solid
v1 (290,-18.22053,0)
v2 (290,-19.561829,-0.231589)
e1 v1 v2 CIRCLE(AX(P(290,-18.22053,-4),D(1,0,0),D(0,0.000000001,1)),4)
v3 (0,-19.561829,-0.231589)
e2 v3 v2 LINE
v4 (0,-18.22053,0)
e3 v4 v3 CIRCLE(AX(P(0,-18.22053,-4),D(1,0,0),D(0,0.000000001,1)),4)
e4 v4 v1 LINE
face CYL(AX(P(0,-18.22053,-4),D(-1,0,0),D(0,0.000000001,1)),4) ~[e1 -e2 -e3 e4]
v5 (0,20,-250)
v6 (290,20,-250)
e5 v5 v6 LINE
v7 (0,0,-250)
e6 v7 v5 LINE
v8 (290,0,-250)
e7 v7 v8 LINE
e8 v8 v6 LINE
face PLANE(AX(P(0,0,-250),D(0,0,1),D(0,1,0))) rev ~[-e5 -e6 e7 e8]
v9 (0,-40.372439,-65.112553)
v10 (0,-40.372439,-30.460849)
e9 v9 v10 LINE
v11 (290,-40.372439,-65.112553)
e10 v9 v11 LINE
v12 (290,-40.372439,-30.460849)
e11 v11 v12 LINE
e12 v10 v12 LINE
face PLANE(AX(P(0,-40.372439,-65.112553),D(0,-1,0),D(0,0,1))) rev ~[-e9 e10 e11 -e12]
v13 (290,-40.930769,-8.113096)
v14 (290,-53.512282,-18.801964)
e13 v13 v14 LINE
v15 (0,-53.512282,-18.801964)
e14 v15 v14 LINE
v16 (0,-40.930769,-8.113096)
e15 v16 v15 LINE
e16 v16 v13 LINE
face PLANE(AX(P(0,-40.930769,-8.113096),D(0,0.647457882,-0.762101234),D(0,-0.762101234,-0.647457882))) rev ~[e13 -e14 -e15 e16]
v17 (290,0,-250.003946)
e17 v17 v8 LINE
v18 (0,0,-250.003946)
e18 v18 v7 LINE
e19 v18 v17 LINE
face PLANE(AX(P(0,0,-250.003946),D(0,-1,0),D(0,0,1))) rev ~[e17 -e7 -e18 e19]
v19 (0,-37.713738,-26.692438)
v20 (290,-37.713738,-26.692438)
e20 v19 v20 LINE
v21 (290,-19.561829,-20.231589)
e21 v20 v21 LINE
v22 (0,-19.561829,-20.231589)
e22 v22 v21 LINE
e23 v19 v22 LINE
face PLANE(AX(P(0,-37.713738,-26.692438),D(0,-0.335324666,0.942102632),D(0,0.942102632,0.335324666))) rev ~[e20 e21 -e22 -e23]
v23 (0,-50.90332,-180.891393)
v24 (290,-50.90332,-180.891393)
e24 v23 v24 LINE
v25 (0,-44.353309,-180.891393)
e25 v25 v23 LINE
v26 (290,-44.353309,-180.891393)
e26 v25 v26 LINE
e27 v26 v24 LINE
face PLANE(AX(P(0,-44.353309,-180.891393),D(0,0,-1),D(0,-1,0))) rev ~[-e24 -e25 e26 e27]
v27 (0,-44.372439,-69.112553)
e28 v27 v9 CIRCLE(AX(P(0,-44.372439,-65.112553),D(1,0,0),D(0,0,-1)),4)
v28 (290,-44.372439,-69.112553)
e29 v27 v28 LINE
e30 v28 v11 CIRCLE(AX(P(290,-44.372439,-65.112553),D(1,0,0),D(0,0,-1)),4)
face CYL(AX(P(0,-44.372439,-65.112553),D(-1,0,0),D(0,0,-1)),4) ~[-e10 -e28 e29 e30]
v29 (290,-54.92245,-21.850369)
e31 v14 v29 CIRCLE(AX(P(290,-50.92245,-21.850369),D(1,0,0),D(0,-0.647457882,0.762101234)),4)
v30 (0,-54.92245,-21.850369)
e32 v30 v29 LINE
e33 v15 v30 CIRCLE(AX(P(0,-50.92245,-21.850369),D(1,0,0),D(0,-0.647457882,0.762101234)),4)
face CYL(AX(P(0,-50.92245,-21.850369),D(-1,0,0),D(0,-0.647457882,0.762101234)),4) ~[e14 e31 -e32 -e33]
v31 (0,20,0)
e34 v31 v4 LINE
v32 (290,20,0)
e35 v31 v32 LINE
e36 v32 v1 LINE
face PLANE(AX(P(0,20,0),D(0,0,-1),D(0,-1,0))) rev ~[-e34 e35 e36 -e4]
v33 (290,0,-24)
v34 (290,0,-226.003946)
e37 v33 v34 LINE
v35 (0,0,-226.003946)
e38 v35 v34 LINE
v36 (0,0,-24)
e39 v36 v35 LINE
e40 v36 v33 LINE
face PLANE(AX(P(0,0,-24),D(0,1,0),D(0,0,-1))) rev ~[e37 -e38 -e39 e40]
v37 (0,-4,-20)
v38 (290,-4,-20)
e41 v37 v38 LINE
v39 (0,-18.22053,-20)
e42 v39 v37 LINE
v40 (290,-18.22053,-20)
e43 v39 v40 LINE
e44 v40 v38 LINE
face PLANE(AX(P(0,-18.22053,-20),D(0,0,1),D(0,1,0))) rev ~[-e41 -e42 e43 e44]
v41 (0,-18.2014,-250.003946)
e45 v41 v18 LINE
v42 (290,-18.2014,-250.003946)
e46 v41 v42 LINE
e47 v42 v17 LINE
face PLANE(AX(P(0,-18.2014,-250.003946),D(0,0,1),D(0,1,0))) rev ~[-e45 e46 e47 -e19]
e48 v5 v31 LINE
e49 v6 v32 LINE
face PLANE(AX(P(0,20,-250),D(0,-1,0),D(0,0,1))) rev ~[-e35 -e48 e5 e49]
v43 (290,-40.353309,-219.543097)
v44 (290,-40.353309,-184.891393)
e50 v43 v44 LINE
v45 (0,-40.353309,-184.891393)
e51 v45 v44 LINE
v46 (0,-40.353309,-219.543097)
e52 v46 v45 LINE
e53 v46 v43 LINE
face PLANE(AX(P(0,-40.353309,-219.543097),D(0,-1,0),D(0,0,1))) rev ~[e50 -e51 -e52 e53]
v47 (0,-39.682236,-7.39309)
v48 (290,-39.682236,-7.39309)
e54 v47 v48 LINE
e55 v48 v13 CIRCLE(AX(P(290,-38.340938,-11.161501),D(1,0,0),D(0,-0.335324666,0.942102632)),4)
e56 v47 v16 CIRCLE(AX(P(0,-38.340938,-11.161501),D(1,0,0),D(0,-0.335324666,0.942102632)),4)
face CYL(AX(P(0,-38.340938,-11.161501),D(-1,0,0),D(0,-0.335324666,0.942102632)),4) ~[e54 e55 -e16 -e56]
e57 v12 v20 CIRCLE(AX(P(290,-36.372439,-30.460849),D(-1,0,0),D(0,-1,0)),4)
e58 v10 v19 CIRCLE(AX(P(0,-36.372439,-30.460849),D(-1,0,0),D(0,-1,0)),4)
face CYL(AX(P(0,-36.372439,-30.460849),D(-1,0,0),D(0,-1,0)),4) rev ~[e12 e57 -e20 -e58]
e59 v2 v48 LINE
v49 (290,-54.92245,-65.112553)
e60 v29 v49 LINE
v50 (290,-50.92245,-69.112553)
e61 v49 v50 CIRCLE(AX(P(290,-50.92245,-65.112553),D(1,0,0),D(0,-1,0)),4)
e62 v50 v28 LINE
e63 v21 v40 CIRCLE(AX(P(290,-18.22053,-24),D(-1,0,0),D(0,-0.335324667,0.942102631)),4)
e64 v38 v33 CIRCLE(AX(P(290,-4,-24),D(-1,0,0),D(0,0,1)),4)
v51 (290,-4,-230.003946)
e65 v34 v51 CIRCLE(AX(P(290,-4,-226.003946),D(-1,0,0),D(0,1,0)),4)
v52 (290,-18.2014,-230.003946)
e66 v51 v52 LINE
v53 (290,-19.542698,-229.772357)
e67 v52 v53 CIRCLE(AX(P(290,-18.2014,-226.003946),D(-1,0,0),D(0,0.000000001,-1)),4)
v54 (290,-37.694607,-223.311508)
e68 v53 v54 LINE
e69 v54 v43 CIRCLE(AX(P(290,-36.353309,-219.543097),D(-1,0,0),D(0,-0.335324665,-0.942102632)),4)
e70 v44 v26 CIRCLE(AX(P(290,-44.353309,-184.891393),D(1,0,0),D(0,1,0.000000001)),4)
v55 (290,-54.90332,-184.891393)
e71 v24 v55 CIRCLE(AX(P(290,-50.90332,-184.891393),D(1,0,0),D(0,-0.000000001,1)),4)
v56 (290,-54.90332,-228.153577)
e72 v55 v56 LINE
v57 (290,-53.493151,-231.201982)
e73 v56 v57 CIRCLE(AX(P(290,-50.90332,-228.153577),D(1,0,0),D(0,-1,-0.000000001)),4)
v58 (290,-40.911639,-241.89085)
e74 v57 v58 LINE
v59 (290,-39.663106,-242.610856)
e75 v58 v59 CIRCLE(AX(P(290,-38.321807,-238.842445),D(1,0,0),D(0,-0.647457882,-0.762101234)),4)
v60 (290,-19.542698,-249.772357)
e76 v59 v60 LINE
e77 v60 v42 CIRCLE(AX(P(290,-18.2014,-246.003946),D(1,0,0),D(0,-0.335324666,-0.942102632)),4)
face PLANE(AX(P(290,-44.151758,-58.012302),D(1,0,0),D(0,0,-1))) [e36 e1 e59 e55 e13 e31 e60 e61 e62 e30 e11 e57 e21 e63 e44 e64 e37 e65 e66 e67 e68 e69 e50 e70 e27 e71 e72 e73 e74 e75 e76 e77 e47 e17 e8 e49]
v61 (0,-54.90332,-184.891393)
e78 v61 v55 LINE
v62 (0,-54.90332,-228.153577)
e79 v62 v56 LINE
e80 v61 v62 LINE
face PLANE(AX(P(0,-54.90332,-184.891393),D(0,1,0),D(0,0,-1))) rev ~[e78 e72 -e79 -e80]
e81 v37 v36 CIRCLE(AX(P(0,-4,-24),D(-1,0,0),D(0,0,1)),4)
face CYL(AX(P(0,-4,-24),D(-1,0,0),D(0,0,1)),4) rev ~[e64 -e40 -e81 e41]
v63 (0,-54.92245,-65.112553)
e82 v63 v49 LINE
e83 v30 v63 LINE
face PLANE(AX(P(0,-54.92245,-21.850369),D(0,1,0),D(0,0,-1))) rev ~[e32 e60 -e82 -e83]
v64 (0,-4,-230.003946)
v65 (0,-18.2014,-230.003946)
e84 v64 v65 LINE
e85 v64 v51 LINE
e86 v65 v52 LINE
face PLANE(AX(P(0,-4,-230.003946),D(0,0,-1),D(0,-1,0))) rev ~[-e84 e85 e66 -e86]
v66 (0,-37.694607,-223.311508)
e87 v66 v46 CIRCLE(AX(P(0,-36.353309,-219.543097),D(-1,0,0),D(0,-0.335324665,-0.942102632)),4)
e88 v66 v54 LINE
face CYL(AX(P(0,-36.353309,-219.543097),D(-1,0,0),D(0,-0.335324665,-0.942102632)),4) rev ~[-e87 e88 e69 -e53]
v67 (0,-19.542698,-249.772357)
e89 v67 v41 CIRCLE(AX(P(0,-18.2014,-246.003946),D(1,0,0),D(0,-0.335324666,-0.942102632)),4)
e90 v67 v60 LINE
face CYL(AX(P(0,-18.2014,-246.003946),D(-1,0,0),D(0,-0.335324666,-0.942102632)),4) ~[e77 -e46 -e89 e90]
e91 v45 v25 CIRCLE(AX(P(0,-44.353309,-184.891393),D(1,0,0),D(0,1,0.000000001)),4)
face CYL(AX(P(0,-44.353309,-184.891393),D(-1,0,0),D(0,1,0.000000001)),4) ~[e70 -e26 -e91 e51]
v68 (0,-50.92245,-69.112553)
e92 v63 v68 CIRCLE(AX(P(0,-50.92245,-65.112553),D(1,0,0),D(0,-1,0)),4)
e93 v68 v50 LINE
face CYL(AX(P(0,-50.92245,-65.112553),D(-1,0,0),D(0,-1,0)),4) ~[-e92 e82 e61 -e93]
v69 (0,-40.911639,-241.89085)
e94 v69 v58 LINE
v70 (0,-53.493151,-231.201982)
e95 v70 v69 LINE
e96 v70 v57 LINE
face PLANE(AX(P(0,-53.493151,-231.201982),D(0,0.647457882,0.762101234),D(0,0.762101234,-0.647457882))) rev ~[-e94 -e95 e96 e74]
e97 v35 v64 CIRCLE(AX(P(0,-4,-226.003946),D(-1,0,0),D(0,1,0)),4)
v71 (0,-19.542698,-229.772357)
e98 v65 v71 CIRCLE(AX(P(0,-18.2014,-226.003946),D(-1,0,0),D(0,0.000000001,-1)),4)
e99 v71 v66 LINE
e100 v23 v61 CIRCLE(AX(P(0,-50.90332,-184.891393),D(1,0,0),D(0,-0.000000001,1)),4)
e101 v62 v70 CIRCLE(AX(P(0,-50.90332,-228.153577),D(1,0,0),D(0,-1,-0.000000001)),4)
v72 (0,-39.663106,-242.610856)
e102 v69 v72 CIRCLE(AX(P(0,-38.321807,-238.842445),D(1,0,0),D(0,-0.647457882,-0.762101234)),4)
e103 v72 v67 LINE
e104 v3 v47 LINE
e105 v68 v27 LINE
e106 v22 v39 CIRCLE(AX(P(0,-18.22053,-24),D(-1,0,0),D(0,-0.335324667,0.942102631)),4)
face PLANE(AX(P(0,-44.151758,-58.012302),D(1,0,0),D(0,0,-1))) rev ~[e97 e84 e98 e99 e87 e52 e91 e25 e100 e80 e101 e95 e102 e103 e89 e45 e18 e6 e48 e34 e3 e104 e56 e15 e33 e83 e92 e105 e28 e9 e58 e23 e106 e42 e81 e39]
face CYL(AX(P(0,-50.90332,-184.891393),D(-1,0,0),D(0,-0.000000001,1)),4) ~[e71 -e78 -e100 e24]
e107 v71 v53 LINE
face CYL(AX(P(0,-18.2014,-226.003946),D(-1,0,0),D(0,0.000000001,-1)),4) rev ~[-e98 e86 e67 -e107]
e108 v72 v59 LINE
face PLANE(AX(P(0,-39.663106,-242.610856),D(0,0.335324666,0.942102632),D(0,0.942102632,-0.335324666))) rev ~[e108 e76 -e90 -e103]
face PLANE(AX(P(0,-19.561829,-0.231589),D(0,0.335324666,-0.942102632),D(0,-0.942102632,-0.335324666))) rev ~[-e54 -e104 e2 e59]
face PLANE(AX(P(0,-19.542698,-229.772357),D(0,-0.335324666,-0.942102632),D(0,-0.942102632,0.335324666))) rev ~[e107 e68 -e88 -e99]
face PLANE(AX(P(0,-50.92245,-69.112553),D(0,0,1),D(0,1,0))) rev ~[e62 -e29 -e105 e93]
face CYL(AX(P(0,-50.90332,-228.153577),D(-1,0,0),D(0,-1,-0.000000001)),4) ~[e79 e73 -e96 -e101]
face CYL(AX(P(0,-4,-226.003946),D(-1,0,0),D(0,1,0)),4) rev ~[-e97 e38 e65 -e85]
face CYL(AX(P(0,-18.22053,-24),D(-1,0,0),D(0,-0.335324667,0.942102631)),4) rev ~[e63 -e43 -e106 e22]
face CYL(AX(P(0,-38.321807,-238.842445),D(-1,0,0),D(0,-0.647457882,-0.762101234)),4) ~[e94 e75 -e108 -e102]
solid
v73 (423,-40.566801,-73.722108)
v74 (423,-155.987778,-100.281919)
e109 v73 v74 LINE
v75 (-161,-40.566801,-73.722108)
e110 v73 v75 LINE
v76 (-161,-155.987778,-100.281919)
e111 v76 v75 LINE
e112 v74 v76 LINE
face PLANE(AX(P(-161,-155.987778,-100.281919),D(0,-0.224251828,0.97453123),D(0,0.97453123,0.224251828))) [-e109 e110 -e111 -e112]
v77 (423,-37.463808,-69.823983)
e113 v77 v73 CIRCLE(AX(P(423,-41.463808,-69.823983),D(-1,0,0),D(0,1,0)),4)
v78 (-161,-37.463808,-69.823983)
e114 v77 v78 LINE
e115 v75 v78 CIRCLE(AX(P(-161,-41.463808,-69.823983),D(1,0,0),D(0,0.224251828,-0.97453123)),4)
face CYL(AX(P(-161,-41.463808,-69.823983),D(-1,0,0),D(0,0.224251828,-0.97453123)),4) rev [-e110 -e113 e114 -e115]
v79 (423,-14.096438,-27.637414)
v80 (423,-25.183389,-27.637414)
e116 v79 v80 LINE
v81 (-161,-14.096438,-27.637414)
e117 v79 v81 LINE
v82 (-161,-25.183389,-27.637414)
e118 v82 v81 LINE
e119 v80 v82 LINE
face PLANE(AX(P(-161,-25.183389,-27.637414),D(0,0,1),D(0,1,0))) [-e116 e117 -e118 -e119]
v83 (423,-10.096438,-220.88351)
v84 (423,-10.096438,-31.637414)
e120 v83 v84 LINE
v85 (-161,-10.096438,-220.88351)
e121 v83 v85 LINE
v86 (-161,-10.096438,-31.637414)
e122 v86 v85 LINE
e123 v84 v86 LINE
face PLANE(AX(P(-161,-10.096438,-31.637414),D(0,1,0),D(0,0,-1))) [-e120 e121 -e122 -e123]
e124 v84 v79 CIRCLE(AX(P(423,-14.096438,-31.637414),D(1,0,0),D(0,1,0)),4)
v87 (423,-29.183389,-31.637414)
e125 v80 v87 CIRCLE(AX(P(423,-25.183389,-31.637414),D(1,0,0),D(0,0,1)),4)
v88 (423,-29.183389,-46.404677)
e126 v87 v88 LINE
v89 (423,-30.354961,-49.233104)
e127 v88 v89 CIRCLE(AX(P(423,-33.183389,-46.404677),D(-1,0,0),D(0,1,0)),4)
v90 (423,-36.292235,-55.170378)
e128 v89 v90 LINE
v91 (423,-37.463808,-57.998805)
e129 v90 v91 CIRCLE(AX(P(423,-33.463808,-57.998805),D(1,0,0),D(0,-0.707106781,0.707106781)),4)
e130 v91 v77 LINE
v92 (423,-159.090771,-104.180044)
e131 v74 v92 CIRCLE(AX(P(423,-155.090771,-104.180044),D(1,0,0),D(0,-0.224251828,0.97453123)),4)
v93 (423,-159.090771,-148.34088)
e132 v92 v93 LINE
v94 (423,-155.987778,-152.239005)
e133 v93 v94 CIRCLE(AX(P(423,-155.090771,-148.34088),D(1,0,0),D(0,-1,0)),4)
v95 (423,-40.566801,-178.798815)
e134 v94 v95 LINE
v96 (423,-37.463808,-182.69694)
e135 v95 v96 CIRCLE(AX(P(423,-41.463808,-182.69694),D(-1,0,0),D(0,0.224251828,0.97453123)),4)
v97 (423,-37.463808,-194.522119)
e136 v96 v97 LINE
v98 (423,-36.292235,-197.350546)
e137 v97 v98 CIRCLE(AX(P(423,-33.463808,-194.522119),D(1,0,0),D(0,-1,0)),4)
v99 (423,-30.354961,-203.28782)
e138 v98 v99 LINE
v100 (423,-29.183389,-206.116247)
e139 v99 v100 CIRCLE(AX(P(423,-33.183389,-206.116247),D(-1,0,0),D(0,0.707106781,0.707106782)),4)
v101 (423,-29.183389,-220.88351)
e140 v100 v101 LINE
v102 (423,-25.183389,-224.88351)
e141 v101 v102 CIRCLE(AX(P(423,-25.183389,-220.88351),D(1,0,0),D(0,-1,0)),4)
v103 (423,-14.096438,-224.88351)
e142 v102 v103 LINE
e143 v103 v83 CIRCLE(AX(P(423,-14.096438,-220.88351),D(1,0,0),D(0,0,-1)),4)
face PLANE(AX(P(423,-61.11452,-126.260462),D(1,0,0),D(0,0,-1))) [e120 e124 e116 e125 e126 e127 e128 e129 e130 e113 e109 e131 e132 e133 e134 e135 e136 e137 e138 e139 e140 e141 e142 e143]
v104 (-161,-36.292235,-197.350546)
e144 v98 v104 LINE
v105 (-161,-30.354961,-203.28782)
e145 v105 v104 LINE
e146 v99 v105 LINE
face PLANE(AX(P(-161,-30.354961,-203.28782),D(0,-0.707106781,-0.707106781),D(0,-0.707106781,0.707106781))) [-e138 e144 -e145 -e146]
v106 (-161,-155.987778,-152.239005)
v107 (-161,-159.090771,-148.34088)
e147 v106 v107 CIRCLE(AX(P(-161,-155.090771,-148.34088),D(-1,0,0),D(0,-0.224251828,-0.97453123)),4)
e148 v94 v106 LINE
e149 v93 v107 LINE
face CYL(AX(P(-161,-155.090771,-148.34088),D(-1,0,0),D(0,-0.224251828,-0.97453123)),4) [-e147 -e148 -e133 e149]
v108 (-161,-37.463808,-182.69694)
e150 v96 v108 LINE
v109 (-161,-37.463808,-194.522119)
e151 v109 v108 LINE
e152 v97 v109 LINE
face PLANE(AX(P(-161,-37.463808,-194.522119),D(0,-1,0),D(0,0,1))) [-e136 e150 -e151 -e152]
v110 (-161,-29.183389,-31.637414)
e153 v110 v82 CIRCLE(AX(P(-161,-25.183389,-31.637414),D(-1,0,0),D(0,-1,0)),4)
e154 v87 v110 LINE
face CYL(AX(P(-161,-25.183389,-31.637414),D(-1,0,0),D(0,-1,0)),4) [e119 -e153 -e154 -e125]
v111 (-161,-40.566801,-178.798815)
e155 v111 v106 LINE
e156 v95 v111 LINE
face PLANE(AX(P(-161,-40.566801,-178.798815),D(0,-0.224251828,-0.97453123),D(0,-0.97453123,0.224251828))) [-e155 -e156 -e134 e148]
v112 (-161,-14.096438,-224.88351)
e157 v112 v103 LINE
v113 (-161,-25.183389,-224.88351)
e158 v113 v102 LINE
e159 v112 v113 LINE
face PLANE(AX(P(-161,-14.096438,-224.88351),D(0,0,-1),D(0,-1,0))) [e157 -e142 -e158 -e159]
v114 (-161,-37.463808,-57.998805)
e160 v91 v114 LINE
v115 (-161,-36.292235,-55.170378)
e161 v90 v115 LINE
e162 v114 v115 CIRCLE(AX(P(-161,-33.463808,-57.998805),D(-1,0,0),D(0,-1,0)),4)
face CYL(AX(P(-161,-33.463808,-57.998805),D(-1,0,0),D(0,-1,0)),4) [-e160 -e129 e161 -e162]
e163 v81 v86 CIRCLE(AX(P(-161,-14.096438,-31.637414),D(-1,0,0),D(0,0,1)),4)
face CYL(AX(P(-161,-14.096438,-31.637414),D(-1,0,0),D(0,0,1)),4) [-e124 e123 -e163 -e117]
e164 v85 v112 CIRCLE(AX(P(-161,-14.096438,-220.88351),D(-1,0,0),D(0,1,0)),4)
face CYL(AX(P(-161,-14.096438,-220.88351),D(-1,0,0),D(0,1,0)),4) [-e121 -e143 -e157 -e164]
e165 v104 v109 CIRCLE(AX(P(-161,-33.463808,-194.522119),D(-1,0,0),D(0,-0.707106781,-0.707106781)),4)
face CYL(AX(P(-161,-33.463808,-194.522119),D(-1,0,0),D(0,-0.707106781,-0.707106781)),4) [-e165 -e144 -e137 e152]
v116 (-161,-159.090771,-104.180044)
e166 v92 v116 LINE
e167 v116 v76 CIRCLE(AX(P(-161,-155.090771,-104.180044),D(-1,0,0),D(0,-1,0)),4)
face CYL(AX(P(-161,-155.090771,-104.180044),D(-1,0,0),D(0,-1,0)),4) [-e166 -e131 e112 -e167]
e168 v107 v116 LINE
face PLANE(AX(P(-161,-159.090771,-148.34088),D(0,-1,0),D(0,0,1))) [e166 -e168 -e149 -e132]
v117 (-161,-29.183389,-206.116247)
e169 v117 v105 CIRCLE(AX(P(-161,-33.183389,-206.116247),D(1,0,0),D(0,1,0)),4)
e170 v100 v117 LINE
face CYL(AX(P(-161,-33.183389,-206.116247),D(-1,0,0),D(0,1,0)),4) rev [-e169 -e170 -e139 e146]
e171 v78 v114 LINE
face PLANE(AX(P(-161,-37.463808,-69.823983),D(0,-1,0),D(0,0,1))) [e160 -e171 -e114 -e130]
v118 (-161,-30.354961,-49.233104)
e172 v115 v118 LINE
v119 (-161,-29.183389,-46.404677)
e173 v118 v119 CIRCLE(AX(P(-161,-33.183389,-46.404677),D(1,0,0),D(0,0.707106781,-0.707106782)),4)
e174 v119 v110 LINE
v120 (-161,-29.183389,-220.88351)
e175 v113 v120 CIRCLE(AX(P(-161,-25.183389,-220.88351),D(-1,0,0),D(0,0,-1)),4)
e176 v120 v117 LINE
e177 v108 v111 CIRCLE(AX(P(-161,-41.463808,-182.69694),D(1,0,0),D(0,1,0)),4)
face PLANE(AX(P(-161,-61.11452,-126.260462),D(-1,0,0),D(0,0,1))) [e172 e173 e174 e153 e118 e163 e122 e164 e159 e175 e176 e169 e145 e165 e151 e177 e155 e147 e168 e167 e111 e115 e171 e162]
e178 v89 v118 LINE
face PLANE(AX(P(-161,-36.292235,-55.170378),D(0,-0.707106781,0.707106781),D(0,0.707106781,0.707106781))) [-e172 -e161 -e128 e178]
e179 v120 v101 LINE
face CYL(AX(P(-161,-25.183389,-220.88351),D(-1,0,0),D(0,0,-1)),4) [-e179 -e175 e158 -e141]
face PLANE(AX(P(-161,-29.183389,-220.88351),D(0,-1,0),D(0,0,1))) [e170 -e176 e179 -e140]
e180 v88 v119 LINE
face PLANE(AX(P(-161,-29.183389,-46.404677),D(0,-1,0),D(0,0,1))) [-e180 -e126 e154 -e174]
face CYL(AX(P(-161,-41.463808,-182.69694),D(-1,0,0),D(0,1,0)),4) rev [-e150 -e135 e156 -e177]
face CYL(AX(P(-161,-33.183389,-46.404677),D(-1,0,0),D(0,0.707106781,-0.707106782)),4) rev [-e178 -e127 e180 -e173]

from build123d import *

# Parameters (mm, degrees)
BOSS_EXTRUDE5_DEPTH = 290
BOSS_EXTRUDE6_DEPTH = 133
BOSS_EXTRUDE7_START = 161
BOSS_EXTRUDE7_DEPTH = 161


with BuildPart() as part:
    # Sketch2 → Boss-Extrude5 (new body)
    with BuildSketch(Plane(origin=(0, 0, 0), x_dir=(0, 0, -1), z_dir=(1, 0, 0))):
        with BuildLine():
            Line((47.65128655, -47.647444653), (69.112553011, -47.647444653))
            Line((69.112553011, -47.647444653), (69.112553011, -44.372439073))
            ThreePointArc((69.112553011, -44.372439073), (67.940980136, -41.544011948), (65.112553011, -40.372439073))
            Line((65.112553011, -40.372439073), (47.65128655, -40.372439073))
            Line((47.65128655, -40.372439073), (47.65128655, -47.647444653))
        make_face()
        Polygon((20, -29.183388594), (20, -18.220530088), (20, -10.096437584), (9.907242899, -10.096437584), (9.907242899, -29.183388594), align=None)
        with BuildLine():
            Line((180.891393153, -44.353308741), (180.891393153, -47.628314321))
            Line((180.891393153, -47.628314321), (202.352659615, -47.628314321))
            Line((202.352659615, -47.628314321), (202.352659615, -40.353308741))
            Line((202.352659615, -40.353308741), (184.891393153, -40.353308741))
            ThreePointArc((184.891393153, -40.353308741), (182.062966029, -41.524881617), (180.891393153, -44.353308741))
        make_face()
        Polygon((240.709987292, -11.100699878), (230.003946164, -11.100699878), (230.003946164, -18.201399757), (230.003946164, -29.183388594), (240.709987292, -29.183388594), align=None)
        with BuildLine():
            Line((220.883509716, -10.096437584), (206.116246719, -10.096437584))
            Line((206.116246719, -10.096437584), (206.116246719, -29.183388594))
            Line((206.116246719, -29.183388594), (220.883509716, -29.183388594))
            ThreePointArc((220.883509716, -29.183388594), (223.711936841, -28.011815719), (224.883509716, -25.183388594))
            Line((224.883509716, -25.183388594), (224.883509716, -14.096437584))
            ThreePointArc((224.883509716, -14.096437584), (223.711936841, -11.268010459), (220.883509716, -10.096437584))
        make_face()
        with BuildLine():
            Line((31.637413711, -29.183388594), (46.404676709, -29.183388594))
            Line((46.404676709, -29.183388594), (46.404676709, -10.096437584))
            Line((46.404676709, -10.096437584), (31.637413711, -10.096437584))
            ThreePointArc((31.637413711, -10.096437584), (28.808986587, -11.268010459), (27.637413711, -14.096437584))
            Line((27.637413711, -14.096437584), (27.637413711, -25.183388594))
            ThreePointArc((27.637413711, -25.183388594), (28.808986587, -28.011815719), (31.637413711, -29.183388594))
        make_face()
        with BuildLine():
            ThreePointArc((46.404676709, -29.183388594), (47.935410438, -29.487870464), (49.233103833, -30.35496147))
            Line((49.233103833, -30.35496147), (55.170377581, -36.292235217))
            ThreePointArc((55.170377581, -36.292235217), (56.468070976, -37.159326222), (57.998804705, -37.463808092))
            Line((57.998804705, -37.463808092), (69.823983025, -37.463808092))
            ThreePointArc((69.823983025, -37.463808092), (72.315164546, -38.334269048), (73.722107943, -40.566800779))
            Line((73.722107943, -40.566800779), (100.281918883, -155.987778215))
            ThreePointArc((100.281918883, -155.987778215), (101.688862279, -158.220309946), (104.180043801, -159.090770902))
            Line((104.180043801, -159.090770902), (148.340879626, -159.090770902))
            ThreePointArc((148.340879626, -159.090770902), (150.832061148, -158.220309946), (152.239004545, -155.987778215))
            Line((152.239004545, -155.987778215), (178.798815484, -40.566800779))
            ThreePointArc((178.798815484, -40.566800779), (180.205758881, -38.334269048), (182.696940403, -37.463808092))
            Line((182.696940403, -37.463808092), (194.522118722, -37.463808092))
            ThreePointArc((194.522118722, -37.463808092), (196.052852452, -37.159326222), (197.350545847, -36.292235217))
            Line((197.350545847, -36.292235217), (203.287819594, -30.35496147))
            ThreePointArc((203.287819594, -30.35496147), (204.585512989, -29.487870464), (206.116246719, -29.183388594))
            Line((206.116246719, -29.183388594), (206.116246719, -10.096437584))
            Line((206.116246719, -10.096437584), (46.404676709, -10.096437584))
            Line((46.404676709, -10.096437584), (46.404676709, -29.183388594))
        make_face()
        with BuildLine():
            ThreePointArc((0, -18.220530088), (0.058322558, -18.901102602), (0.231589473, -19.56182875))
            Line((0.231589473, -19.56182875), (7.393090493, -39.682236379))
            ThreePointArc((7.393090493, -39.682236379), (7.696396138, -40.339199), (8.113096085, -40.930769246))
            Line((8.113096085, -40.930769246), (18.801964029, -53.512281762))
            ThreePointArc((18.801964029, -53.512281762), (20.170983082, -54.5528308), (21.850368965, -54.922450233))
            Line((21.850368965, -54.922450233), (47.65128655, -54.922450233))
            Line((47.65128655, -54.922450233), (65.112553011, -54.922450233))
            ThreePointArc((65.112553011, -54.922450233), (67.940980136, -53.750877358), (69.112553011, -50.922450233))
            Line((69.112553011, -50.922450233), (69.112553011, -47.647444653))
            Line((69.112553011, -47.647444653), (47.65128655, -47.647444653))
            Line((47.65128655, -47.647444653), (47.65128655, -40.372439073))
            Line((47.65128655, -40.372439073), (30.460848961, -40.372439073))
            ThreePointArc((30.460848961, -40.372439073), (28.154899552, -39.640863361), (26.692438434, -37.713737735))
            Line((26.692438434, -37.713737735), (20.231589473, -19.56182875))
            ThreePointArc((20.231589473, -19.56182875), (20.058322558, -18.901102602), (20, -18.220530088))
            Line((20, -18.220530088), (20, -29.183388594))
            Line((20, -29.183388594), (9.907242899, -29.183388594))
            Line((9.907242899, -29.183388594), (9.907242899, -10.096437584))
            Line((9.907242899, -10.096437584), (20, -10.096437584))
            Line((20, -10.096437584), (20, -4))
            ThreePointArc((20, -4), (21.171572875, -1.171572875), (24, 0))
            Line((24, 0), (115.13353494, 0))
            Line((115.13353494, 0), (125.001973082, 0))
            Line((125.001973082, 0), (226.003946164, 0))
            ThreePointArc((226.003946164, 0), (228.832373289, -1.171572875), (230.003946164, -4))
            Line((230.003946164, -4), (230.003946164, -11.100699878))
            Line((230.003946164, -11.100699878), (240.709987292, -11.100699878))
            Line((240.709987292, -11.100699878), (240.709987292, -29.183388594))
            Line((240.709987292, -29.183388594), (230.003946164, -29.183388594))
            Line((230.003946164, -29.183388594), (230.003946164, -18.201399757))
            ThreePointArc((230.003946164, -18.201399757), (229.945623606, -18.88197227), (229.772356691, -19.542698419))
            Line((229.772356691, -19.542698419), (223.311507731, -37.694607403))
            ThreePointArc((223.311507731, -37.694607403), (221.849046613, -39.621733029), (219.543097204, -40.353308741))
            Line((219.543097204, -40.353308741), (202.352659615, -40.353308741))
            Line((202.352659615, -40.353308741), (202.352659615, -47.628314321))
            Line((202.352659615, -47.628314321), (180.891393153, -47.628314321))
            Line((180.891393153, -47.628314321), (180.891393153, -50.903319902))
            ThreePointArc((180.891393153, -50.903319902), (182.062966029, -53.731747026), (184.891393153, -54.903319902))
            Line((184.891393153, -54.903319902), (202.352659615, -54.903319902))
            Line((202.352659615, -54.903319902), (228.1535772, -54.903319902))
            ThreePointArc((228.1535772, -54.903319902), (229.832963082, -54.533700468), (231.201982136, -53.493151431))
            Line((231.201982136, -53.493151431), (241.89085008, -40.911638914))
            ThreePointArc((241.89085008, -40.911638914), (242.307550026, -40.320068669), (242.610855671, -39.663106047))
            Line((242.610855671, -39.663106047), (249.772356691, -19.542698419))
            ThreePointArc((249.772356691, -19.542698419), (249.945623606, -18.88197227), (250.003946164, -18.201399757))
            Line((250.003946164, -18.201399757), (250.003946164, 0))
            Line((250.003946164, 0), (250, 0))
            Line((250, 0), (250, 20))
            Line((250, 20), (0, 20))
            Line((0, 20), (0, 0))
            Line((0, 0), (0, -18.220530088))
        make_face()
    extrude(amount=BOSS_EXTRUDE5_DEPTH)

    # Sketch3 → Boss-Extrude6 (add)
    with BuildSketch(Plane(origin=(290, 0, 0), x_dir=(0, 0, -1), z_dir=(1, 0, 0))):
        with BuildLine():
            Line((206.116246719, -29.183388594), (220.883509716, -29.183388594))
            ThreePointArc((220.883509716, -29.183388594), (223.711936841, -28.011815719), (224.883509716, -25.183388594))
            Line((224.883509716, -25.183388594), (224.883509716, -14.096437584))
            ThreePointArc((224.883509716, -14.096437584), (223.711936841, -11.268010459), (220.883509716, -10.096437584))
            Line((220.883509716, -10.096437584), (31.637413711, -10.096437584))
            ThreePointArc((31.637413711, -10.096437584), (28.808986587, -11.268010459), (27.637413711, -14.096437584))
            Line((27.637413711, -14.096437584), (27.637413711, -25.183388594))
            ThreePointArc((27.637413711, -25.183388594), (28.808986587, -28.011815719), (31.637413711, -29.183388594))
            Line((31.637413711, -29.183388594), (46.404676709, -29.183388594))
            ThreePointArc((46.404676709, -29.183388594), (47.935410438, -29.487870464), (49.233103833, -30.35496147))
            Line((49.233103833, -30.35496147), (55.170377581, -36.292235217))
            ThreePointArc((55.170377581, -36.292235217), (56.468070976, -37.159326222), (57.998804705, -37.463808092))
            Line((57.998804705, -37.463808092), (69.823983025, -37.463808092))
            ThreePointArc((69.823983025, -37.463808092), (72.315164546, -38.334269048), (73.722107943, -40.566800779))
            Line((73.722107943, -40.566800779), (100.281918883, -155.987778215))
            ThreePointArc((100.281918883, -155.987778215), (101.688862279, -158.220309946), (104.180043801, -159.090770902))
            Line((104.180043801, -159.090770902), (148.340879626, -159.090770902))
            ThreePointArc((148.340879626, -159.090770902), (150.832061148, -158.220309946), (152.239004545, -155.987778215))
            Line((152.239004545, -155.987778215), (178.798815484, -40.566800779))
            ThreePointArc((178.798815484, -40.566800779), (180.205758881, -38.334269048), (182.696940403, -37.463808092))
            Line((182.696940403, -37.463808092), (194.522118722, -37.463808092))
            ThreePointArc((194.522118722, -37.463808092), (196.052852452, -37.159326222), (197.350545847, -36.292235217))
            Line((197.350545847, -36.292235217), (203.287819594, -30.35496147))
            ThreePointArc((203.287819594, -30.35496147), (204.585512989, -29.487870464), (206.116246719, -29.183388594))
        make_face()
    extrude(amount=BOSS_EXTRUDE6_DEPTH)

    # Sketch4 → Boss-Extrude7 (add)
    with BuildSketch(Plane.ZY.offset(BOSS_EXTRUDE7_START)):
        with BuildLine():
            Line((-220.883509716, -29.183388594), (-206.116246719, -29.183388594))
            ThreePointArc((-206.116246719, -29.183388594), (-204.585512989, -29.487870464), (-203.287819594, -30.35496147))
            Line((-203.287819594, -30.35496147), (-197.350545847, -36.292235217))
            ThreePointArc((-197.350545847, -36.292235217), (-196.052852452, -37.159326222), (-194.522118722, -37.463808092))
            Line((-194.522118722, -37.463808092), (-182.696940403, -37.463808092))
            ThreePointArc((-182.696940403, -37.463808092), (-180.205758881, -38.334269048), (-178.798815484, -40.566800779))
            Line((-178.798815484, -40.566800779), (-152.239004545, -155.987778215))
            ThreePointArc((-152.239004545, -155.987778215), (-150.832061148, -158.220309946), (-148.340879626, -159.090770902))
            Line((-148.340879626, -159.090770902), (-104.180043801, -159.090770902))
            ThreePointArc((-104.180043801, -159.090770902), (-101.688862279, -158.220309946), (-100.281918883, -155.987778215))
            Line((-100.281918883, -155.987778215), (-73.722107943, -40.566800779))
            ThreePointArc((-73.722107943, -40.566800779), (-72.315164546, -38.334269048), (-69.823983025, -37.463808092))
            Line((-69.823983025, -37.463808092), (-57.998804705, -37.463808092))
            ThreePointArc((-57.998804705, -37.463808092), (-56.468070976, -37.159326222), (-55.170377581, -36.292235217))
            Line((-55.170377581, -36.292235217), (-49.233103833, -30.35496147))
            ThreePointArc((-49.233103833, -30.35496147), (-47.935410438, -29.487870464), (-46.404676709, -29.183388594))
            Line((-46.404676709, -29.183388594), (-31.637413711, -29.183388594))
            ThreePointArc((-31.637413711, -29.183388594), (-28.808986587, -28.011815719), (-27.637413711, -25.183388594))
            Line((-27.637413711, -25.183388594), (-27.637413711, -14.096437584))
            ThreePointArc((-27.637413711, -14.096437584), (-28.808986587, -11.268010459), (-31.637413711, -10.096437584))
            Line((-31.637413711, -10.096437584), (-220.883509716, -10.096437584))
            ThreePointArc((-220.883509716, -10.096437584), (-223.711936841, -11.268010459), (-224.883509716, -14.096437584))
            Line((-224.883509716, -14.096437584), (-224.883509716, -25.183388594))
            ThreePointArc((-224.883509716, -25.183388594), (-223.711936841, -28.011815719), (-220.883509716, -29.183388594))
        make_face()
    extrude(amount=-BOSS_EXTRUDE7_DEPTH)


solid = part.part
